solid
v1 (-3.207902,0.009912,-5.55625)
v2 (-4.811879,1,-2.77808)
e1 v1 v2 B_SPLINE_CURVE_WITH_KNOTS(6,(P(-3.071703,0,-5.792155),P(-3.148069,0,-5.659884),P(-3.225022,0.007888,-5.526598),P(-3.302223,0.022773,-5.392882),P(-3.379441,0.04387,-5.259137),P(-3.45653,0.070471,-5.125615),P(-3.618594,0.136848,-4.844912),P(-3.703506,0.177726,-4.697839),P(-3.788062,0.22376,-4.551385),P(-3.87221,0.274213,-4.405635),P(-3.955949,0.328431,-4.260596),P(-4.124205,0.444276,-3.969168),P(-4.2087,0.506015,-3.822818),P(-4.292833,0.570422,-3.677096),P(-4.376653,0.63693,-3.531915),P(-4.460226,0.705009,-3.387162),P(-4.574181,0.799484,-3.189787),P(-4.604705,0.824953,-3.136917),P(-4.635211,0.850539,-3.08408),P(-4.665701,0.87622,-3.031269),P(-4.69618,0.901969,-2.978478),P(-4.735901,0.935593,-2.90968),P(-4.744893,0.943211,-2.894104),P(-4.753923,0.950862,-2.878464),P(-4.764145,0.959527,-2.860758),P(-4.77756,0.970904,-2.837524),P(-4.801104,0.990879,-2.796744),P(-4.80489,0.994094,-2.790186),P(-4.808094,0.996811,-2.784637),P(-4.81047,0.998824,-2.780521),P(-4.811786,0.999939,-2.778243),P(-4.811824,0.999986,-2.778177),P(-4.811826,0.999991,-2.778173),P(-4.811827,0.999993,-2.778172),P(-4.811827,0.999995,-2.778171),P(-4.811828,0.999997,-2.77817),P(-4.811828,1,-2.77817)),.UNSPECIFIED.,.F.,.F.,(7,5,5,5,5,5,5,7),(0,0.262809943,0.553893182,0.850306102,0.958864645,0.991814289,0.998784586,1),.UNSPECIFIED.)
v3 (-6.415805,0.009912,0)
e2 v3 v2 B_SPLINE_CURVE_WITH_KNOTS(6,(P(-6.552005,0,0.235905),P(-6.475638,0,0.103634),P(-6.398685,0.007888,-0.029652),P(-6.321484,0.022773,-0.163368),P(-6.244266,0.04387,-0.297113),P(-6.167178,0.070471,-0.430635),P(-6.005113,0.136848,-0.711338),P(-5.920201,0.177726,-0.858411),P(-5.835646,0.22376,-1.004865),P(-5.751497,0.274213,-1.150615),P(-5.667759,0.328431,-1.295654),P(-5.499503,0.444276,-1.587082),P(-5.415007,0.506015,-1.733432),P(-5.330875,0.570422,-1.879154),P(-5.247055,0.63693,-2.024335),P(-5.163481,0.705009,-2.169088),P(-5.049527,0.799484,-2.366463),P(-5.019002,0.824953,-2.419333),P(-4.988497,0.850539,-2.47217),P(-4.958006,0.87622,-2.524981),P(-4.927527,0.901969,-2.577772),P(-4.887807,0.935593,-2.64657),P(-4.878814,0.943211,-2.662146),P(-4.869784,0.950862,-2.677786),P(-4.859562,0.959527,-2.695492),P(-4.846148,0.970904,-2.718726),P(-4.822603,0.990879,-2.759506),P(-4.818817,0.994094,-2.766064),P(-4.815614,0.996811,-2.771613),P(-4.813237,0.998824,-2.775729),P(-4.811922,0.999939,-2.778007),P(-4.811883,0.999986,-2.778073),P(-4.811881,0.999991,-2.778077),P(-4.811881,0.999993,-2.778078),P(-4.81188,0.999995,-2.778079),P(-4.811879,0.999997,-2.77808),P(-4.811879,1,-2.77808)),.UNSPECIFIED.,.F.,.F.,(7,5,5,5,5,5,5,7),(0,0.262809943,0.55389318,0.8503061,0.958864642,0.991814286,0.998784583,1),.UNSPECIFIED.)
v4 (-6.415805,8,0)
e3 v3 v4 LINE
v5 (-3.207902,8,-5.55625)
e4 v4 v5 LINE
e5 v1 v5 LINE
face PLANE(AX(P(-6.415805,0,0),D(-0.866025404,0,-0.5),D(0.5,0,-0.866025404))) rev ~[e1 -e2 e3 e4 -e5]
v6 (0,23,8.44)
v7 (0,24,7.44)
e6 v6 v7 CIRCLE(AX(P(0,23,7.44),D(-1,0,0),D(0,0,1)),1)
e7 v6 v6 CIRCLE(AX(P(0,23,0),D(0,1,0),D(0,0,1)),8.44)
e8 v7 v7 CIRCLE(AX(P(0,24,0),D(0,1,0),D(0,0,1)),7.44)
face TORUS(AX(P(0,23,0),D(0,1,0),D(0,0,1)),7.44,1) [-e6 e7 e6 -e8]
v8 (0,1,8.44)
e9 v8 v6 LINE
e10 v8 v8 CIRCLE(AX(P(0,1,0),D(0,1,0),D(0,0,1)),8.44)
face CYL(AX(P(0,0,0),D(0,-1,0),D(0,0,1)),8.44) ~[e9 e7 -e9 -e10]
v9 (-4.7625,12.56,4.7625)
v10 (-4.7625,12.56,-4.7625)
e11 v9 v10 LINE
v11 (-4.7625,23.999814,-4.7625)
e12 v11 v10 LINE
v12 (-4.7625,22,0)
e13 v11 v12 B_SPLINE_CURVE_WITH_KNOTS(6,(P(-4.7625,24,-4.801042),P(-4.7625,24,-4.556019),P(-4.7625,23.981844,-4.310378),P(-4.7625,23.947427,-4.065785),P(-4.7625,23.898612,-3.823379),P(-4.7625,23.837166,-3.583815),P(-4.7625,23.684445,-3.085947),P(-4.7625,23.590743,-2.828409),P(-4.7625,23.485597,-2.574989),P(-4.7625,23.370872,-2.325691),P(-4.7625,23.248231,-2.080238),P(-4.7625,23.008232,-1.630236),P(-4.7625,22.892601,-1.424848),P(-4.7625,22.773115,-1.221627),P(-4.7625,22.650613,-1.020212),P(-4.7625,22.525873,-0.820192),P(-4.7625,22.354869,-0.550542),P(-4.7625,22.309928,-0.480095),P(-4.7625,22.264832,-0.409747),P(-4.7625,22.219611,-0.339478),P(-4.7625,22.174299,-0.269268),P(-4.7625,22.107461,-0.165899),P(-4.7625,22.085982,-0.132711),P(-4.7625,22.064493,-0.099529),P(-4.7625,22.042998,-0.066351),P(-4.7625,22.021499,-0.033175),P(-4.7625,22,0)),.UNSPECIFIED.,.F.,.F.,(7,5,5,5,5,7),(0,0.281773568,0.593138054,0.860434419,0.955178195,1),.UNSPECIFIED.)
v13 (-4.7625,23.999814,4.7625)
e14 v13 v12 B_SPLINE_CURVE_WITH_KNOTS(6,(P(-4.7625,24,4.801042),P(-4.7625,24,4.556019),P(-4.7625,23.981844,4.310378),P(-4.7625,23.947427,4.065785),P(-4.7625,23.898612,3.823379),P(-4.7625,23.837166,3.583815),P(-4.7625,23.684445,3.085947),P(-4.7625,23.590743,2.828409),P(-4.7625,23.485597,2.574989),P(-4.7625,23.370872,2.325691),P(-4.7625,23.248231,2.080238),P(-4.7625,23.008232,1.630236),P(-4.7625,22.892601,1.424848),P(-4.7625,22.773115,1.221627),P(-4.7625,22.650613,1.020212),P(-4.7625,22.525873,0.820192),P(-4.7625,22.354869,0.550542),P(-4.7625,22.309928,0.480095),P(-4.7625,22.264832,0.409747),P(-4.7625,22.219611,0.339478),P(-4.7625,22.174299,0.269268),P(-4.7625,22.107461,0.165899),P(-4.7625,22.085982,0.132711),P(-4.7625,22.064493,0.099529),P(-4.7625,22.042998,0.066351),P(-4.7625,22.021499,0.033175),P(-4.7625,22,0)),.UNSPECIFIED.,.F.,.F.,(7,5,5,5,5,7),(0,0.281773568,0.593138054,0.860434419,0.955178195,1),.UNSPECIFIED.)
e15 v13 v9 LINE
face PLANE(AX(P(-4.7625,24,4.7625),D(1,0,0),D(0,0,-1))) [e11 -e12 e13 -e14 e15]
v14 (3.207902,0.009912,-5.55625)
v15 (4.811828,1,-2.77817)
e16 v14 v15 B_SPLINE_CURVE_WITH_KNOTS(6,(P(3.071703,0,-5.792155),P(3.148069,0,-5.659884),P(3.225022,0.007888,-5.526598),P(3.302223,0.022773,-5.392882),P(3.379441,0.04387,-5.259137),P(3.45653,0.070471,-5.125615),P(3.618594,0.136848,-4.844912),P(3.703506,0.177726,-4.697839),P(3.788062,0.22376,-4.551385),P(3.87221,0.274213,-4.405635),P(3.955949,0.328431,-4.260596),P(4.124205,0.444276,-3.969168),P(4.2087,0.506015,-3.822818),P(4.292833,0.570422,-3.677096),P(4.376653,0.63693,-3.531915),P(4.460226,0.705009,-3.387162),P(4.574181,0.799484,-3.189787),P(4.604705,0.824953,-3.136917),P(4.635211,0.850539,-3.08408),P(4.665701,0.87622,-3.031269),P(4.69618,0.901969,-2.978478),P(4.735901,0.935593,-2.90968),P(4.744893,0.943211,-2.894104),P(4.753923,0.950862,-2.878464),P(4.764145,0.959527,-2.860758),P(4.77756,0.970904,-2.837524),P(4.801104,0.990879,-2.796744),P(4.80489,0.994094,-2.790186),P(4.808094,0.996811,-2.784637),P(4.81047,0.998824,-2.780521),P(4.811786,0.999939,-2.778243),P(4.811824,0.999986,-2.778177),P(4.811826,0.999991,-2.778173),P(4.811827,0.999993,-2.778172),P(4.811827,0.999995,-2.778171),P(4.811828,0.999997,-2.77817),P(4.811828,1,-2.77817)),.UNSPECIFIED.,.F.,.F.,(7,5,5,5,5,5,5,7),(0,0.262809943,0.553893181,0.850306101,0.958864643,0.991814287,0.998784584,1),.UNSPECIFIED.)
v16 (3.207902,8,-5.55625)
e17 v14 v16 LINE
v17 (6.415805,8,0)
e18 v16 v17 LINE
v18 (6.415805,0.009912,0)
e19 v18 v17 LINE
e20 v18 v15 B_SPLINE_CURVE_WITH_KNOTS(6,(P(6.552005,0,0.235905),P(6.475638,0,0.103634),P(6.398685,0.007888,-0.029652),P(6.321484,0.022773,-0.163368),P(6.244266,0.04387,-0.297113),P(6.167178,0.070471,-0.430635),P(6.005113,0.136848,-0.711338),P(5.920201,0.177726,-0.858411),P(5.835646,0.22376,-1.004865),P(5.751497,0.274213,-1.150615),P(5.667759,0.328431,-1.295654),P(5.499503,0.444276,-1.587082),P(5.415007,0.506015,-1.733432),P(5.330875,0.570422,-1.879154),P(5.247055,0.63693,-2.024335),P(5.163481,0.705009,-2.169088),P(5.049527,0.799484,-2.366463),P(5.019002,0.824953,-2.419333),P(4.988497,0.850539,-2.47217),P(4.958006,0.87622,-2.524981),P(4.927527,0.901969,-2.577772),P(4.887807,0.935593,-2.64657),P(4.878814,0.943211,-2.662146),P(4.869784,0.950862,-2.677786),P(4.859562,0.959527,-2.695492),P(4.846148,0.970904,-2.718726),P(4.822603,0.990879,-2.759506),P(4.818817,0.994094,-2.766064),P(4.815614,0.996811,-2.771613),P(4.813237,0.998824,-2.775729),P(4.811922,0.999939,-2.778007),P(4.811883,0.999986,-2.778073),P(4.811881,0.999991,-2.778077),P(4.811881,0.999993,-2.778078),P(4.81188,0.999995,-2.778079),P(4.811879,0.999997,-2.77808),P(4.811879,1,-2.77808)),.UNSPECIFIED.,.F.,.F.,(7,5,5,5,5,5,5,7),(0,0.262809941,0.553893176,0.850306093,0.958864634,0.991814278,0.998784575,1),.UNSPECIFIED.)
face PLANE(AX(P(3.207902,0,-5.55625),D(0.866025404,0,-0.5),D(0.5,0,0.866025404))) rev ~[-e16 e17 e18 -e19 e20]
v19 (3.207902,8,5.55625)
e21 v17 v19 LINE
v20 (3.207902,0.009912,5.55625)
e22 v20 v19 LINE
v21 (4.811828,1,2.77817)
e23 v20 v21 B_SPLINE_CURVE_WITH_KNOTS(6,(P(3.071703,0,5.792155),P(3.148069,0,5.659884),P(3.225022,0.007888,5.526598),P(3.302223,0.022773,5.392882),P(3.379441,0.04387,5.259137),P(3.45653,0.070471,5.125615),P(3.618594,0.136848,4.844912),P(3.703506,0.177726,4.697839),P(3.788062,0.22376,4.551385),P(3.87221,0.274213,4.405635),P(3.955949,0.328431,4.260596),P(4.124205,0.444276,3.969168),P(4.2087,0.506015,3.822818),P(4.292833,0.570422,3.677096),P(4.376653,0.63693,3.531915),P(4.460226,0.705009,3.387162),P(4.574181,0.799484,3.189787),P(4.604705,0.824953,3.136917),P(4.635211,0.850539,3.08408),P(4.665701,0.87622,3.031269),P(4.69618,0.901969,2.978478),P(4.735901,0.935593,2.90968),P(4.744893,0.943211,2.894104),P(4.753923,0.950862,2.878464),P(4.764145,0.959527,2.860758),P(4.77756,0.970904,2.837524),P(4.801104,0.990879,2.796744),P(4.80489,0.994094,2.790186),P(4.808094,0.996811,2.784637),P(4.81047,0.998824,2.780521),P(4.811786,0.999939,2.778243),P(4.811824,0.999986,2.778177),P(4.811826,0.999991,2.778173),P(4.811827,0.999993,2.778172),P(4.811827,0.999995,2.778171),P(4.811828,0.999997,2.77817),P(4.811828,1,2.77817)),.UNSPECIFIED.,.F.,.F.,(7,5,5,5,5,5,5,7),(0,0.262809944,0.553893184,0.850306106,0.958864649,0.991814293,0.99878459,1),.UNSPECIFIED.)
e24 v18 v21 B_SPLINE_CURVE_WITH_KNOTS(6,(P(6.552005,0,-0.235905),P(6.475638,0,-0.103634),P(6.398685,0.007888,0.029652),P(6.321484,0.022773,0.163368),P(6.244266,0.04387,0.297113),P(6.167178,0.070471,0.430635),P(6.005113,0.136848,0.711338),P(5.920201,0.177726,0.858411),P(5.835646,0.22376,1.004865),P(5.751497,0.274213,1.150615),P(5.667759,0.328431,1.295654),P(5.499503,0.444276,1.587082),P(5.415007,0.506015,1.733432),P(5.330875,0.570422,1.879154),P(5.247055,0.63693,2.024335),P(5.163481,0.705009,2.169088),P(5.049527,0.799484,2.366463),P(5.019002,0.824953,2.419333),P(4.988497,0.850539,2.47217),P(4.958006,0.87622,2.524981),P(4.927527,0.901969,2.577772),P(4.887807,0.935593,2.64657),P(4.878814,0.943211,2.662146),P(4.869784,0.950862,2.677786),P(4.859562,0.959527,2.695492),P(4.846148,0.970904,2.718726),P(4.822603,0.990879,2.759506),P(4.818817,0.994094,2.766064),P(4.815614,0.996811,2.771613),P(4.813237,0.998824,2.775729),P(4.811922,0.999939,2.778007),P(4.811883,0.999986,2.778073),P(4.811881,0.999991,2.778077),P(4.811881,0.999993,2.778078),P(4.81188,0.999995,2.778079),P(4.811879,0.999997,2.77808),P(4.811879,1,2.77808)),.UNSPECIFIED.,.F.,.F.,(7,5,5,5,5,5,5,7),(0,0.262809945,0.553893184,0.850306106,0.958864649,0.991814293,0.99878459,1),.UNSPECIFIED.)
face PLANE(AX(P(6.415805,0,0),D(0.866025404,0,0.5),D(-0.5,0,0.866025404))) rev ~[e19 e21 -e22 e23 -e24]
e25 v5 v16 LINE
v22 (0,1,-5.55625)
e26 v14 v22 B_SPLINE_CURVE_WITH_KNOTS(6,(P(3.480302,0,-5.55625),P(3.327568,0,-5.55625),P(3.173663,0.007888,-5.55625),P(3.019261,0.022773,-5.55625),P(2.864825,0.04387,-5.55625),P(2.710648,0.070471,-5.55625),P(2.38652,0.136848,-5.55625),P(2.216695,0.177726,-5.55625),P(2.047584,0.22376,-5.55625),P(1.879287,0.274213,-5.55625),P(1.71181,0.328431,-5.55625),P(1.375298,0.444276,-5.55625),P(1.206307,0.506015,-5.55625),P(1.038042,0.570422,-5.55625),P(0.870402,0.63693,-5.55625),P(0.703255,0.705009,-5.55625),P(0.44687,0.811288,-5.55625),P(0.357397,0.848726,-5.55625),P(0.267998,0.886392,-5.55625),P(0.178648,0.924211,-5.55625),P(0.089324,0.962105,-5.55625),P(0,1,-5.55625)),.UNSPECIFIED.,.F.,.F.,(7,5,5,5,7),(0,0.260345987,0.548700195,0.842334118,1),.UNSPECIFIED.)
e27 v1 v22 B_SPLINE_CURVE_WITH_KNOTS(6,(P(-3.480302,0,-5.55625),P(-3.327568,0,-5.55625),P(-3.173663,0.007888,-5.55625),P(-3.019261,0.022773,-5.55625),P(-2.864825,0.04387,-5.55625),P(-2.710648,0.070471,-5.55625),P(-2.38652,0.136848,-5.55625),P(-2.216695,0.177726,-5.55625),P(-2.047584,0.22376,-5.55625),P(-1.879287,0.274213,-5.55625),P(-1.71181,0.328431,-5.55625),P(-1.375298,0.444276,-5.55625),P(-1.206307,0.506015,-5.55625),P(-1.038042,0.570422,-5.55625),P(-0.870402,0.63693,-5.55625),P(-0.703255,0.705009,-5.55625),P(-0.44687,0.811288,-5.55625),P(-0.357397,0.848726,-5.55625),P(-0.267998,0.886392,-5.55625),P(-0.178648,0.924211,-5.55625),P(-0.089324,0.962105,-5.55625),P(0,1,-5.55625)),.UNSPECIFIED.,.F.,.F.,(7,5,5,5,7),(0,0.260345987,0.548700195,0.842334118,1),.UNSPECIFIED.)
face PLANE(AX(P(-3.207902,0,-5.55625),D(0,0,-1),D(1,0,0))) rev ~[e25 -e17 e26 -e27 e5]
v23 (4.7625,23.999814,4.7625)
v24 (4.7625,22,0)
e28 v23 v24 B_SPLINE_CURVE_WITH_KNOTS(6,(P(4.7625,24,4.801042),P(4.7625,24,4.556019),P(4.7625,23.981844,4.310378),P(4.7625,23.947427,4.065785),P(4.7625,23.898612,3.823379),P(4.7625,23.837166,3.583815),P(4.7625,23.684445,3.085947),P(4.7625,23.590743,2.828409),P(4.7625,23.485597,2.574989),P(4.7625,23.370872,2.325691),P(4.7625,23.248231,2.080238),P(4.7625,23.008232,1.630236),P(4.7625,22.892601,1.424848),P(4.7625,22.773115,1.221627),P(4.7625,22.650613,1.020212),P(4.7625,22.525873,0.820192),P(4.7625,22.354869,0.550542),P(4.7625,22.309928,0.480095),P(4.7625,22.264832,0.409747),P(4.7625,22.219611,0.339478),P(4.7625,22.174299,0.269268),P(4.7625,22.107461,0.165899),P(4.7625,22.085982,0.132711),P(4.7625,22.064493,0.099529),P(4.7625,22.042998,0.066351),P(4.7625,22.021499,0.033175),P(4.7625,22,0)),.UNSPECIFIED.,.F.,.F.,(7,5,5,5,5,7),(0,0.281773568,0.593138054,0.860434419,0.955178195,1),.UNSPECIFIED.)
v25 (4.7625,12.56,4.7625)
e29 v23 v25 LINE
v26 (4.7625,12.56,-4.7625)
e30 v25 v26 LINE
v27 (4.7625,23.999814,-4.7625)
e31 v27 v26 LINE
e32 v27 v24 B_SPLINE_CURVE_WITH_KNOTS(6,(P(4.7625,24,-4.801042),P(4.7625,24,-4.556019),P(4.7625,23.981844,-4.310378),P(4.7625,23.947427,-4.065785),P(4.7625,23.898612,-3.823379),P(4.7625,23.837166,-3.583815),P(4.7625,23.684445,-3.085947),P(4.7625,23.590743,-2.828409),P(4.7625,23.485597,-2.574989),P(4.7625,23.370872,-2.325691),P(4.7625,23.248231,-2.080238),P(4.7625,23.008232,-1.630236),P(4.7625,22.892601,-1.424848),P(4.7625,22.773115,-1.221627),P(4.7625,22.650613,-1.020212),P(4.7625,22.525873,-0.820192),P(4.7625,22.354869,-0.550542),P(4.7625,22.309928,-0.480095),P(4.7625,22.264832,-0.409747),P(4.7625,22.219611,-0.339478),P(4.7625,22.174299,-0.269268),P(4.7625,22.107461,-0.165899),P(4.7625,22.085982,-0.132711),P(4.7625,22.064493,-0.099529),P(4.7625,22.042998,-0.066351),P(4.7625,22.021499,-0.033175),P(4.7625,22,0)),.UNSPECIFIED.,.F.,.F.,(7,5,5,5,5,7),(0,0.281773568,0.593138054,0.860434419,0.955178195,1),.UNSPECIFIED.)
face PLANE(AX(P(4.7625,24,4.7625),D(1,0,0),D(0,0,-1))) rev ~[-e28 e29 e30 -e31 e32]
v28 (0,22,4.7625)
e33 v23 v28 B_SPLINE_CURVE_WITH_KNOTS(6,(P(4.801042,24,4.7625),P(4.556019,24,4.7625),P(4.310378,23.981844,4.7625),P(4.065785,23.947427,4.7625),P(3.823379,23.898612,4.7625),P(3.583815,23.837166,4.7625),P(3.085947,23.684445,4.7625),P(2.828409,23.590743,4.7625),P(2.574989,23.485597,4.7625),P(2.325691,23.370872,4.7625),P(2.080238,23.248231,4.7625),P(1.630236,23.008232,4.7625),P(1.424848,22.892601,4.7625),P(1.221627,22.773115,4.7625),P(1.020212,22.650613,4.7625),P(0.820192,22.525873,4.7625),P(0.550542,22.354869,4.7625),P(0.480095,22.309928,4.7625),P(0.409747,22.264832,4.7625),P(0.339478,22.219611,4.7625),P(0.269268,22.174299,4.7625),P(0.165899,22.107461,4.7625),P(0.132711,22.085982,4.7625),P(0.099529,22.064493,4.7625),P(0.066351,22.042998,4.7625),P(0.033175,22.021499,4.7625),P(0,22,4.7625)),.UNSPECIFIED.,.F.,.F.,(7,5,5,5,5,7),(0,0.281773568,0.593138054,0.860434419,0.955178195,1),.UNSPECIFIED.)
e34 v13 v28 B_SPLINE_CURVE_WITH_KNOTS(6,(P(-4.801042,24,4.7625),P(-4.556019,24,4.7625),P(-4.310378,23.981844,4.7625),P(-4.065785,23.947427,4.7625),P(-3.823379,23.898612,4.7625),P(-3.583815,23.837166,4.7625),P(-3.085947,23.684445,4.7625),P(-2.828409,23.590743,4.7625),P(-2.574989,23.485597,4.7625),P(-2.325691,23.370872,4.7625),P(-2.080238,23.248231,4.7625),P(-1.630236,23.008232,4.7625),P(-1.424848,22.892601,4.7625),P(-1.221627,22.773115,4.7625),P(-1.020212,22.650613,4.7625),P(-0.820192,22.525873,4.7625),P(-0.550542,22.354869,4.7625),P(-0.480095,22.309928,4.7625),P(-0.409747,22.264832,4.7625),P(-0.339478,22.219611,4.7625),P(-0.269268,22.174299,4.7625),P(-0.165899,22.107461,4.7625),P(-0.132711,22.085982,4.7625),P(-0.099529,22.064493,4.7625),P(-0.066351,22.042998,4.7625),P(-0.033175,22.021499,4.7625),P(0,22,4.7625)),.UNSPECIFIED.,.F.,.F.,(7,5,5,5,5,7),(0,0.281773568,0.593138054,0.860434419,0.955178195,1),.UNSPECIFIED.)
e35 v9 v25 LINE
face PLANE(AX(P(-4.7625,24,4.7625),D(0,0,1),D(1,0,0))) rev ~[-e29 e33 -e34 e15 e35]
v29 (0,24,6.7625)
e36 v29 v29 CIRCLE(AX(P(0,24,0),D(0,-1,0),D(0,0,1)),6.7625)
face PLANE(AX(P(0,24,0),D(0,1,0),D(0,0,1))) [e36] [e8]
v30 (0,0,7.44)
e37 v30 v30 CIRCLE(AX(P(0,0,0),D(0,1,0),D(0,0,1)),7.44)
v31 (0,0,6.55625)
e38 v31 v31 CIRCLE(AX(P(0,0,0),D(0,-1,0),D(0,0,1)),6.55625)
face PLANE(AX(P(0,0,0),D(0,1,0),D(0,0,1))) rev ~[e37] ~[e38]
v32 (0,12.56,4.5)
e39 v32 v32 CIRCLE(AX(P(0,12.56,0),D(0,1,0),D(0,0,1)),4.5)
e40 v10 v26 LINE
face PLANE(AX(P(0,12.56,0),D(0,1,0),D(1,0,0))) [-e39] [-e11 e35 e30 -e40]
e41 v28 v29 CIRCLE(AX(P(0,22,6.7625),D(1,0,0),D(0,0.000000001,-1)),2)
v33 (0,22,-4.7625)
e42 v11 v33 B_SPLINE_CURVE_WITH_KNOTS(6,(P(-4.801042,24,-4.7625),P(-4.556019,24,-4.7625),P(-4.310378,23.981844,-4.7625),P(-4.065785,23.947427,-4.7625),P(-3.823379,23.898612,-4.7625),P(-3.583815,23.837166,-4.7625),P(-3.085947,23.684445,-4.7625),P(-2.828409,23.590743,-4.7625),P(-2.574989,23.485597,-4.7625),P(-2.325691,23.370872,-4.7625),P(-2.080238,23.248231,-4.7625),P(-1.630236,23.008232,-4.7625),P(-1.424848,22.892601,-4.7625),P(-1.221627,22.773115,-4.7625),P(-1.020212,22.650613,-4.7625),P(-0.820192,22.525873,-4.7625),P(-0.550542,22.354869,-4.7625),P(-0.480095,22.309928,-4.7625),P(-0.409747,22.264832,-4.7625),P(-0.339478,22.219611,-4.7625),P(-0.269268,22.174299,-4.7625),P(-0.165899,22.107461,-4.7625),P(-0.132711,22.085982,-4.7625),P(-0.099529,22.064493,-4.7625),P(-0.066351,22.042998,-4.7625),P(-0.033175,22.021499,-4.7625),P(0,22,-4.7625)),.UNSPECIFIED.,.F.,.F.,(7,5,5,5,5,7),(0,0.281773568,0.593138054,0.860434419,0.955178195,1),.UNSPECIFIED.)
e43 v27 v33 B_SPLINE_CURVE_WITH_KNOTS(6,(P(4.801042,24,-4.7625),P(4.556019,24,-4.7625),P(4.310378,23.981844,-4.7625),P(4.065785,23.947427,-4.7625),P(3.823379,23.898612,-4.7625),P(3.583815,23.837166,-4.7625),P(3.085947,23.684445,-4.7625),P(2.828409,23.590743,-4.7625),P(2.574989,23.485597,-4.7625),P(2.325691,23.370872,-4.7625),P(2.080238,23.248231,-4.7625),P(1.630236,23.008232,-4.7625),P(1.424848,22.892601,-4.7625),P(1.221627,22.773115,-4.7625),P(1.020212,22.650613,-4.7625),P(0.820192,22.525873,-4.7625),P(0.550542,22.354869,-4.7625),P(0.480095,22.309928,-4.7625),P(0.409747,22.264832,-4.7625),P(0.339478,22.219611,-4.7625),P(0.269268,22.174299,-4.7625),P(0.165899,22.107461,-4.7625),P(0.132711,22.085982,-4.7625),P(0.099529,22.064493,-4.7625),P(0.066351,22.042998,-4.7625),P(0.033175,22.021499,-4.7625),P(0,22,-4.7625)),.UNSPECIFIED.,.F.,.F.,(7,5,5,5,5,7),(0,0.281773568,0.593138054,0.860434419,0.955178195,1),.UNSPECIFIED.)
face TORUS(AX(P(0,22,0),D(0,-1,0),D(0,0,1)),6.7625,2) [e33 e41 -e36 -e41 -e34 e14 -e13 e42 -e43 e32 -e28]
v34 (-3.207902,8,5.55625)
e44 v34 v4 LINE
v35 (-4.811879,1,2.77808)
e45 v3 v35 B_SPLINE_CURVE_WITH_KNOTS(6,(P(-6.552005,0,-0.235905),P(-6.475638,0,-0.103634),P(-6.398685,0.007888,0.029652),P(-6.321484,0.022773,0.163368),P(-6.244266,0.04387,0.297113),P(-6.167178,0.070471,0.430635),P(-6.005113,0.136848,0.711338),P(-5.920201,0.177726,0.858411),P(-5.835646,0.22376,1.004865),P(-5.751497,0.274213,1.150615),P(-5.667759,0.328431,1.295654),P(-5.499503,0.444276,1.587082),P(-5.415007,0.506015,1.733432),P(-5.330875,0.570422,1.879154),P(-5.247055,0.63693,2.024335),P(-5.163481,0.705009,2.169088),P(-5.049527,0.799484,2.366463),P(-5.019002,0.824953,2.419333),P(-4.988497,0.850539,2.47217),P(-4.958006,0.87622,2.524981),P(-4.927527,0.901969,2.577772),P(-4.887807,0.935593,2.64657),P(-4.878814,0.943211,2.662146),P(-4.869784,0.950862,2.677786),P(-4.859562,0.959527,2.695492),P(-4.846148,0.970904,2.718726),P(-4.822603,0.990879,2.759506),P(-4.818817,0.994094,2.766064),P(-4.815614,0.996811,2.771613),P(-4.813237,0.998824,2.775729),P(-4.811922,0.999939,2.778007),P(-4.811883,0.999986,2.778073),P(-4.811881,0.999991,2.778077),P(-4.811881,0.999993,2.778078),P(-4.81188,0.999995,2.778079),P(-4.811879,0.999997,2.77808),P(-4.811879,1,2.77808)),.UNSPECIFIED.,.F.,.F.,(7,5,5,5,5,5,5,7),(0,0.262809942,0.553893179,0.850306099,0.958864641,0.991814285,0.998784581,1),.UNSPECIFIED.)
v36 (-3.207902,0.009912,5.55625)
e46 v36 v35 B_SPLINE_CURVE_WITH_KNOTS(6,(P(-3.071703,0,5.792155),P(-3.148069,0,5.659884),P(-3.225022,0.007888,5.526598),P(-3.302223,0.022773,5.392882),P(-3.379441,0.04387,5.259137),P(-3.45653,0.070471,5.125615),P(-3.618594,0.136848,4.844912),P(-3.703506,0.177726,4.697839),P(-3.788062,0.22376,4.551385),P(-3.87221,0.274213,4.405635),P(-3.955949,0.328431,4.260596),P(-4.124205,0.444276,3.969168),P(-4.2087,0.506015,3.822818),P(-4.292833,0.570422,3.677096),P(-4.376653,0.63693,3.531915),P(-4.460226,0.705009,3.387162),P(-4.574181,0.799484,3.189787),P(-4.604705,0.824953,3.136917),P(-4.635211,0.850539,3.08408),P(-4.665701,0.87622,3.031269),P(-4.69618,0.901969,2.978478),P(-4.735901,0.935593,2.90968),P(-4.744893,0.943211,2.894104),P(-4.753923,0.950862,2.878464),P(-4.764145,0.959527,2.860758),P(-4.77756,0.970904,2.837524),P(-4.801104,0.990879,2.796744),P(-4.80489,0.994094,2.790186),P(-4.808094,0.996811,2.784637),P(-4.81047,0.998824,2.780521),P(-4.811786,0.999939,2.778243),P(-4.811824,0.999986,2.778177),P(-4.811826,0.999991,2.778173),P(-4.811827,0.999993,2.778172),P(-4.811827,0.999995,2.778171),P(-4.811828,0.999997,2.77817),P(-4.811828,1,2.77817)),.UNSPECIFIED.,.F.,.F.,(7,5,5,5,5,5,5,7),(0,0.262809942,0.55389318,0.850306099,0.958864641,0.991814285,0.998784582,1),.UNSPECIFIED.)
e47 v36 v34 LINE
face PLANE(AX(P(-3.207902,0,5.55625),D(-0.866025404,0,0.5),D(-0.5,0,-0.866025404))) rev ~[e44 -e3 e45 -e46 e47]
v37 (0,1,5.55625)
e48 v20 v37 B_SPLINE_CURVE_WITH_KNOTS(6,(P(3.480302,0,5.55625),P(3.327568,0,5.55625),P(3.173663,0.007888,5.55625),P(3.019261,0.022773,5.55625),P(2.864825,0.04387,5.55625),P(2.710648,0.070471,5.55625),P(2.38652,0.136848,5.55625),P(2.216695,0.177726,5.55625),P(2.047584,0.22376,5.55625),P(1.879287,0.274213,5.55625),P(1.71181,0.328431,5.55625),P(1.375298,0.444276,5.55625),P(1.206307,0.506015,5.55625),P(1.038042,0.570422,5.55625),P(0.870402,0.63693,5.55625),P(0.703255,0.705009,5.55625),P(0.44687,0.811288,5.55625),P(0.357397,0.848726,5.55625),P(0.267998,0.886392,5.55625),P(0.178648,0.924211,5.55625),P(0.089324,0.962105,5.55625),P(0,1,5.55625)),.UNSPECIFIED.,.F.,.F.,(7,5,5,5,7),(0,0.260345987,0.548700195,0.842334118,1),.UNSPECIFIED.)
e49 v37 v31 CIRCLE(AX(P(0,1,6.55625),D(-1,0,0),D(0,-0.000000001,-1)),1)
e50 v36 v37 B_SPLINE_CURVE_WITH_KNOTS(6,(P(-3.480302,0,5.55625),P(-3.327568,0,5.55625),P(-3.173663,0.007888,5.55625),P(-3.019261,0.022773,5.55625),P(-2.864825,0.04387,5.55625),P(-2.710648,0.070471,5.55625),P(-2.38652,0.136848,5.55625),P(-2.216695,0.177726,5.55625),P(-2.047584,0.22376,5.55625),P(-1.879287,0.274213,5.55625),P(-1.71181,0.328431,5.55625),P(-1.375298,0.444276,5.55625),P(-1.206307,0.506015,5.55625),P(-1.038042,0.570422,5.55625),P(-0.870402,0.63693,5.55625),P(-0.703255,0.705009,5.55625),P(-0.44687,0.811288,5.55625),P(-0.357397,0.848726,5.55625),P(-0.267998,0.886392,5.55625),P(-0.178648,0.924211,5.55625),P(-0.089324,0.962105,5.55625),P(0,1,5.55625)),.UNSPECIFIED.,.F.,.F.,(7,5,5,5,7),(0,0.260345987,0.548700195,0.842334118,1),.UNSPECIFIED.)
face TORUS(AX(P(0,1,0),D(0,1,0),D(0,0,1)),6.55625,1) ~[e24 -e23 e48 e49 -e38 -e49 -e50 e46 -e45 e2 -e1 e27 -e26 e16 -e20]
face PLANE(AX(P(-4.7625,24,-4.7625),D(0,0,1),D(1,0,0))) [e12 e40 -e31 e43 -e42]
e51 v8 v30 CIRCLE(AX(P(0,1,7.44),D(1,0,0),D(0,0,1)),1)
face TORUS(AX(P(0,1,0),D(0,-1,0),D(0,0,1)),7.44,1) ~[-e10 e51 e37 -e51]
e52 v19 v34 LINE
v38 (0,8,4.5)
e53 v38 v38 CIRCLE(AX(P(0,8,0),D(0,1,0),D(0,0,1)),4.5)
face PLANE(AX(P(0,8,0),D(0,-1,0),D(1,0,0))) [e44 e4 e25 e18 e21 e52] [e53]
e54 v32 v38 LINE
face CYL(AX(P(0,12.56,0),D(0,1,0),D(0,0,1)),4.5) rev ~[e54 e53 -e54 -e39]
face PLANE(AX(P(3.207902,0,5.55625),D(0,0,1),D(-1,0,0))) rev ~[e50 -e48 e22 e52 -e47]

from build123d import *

# Parameters (mm, degrees)
SKETCH1_R           = 8.44
BOSS_EXTRUDE1_DEPTH = 24
SKETCH2_W           = 9.525
SKETCH2_H           = 9.525
CUT_EXTRUDE1_DEPTH  = 11.44
SKETCH3_R           = 4.5
CUT_EXTRUDE2_DEPTH  = 18.32688085
CUT_EXTRUDE3_DEPTH  = 8
FILLET1_R           = 1


with BuildPart() as part:
    # Sketch1 → Boss-Extrude1 (new body)
    with BuildSketch(Plane(origin=(0, 0, 0), x_dir=(1, 0, 0), z_dir=(0, 1, 0))):
        with Locations(Location((0, 0, 0), (0, 0, 270))):
            Circle(SKETCH1_R)
    extrude(amount=BOSS_EXTRUDE1_DEPTH)

    # Sketch2 → Cut-Extrude1 (cut)
    with BuildSketch(Plane(origin=(0, 24, 0), x_dir=(1, 0, 0), z_dir=(0, 1, 0))):
        Rectangle(SKETCH2_W, SKETCH2_H)
    extrude(amount=-CUT_EXTRUDE1_DEPTH, mode=Mode.SUBTRACT)

    # Sketch3 → Cut-Extrude2 (cut, through all)
    with BuildSketch(Plane(origin=(0, 12.56, 0), x_dir=(1, 0, 0), z_dir=(0, 1, 0))):
        with Locations(Location((0, 0, 0), (0, 0, 270))):
            Circle(SKETCH3_R)
    extrude(amount=-CUT_EXTRUDE2_DEPTH, mode=Mode.SUBTRACT)

    # Sketch4 → Cut-Extrude3 (cut)
    with BuildSketch(Plane.XZ):
        Polygon((-3.207902433, 5.55625), (-6.415804866, 0), (-3.207902433, -5.55625), (3.207902433, -5.55625), (6.415804866, 0), (3.207902433, 5.55625), align=None)
    extrude(amount=-CUT_EXTRUDE3_DEPTH, mode=Mode.SUBTRACT)

    # Sketch5 → Cut-Revolve1 (revolve, cut)
    with BuildSketch(Plane(origin=(0, 0, 0), x_dir=(0, 0, -1), z_dir=(1, 0, 0))):
        with BuildLine():
            Line((-6.55625, 0), (-5.55625, 0))
            Line((-5.55625, 0), (-5.55625, 1))
            ThreePointArc((-5.55625, 1), (-5.849143219, 0.292893219), (-6.55625, 0))
        make_face()
        with BuildLine():
            Line((-6.7625, 24), (-4.7625, 24))
            Line((-4.7625, 24), (-4.7625, 22))
            ThreePointArc((-4.7625, 22), (-5.348286438, 23.414213562), (-6.7625, 24))
        make_face()
    revolve(axis=Axis((0, 24, 0), (0, -1, 0)), mode=Mode.SUBTRACT)

    # Fillet1
    fillet1_edges = [part.edges().sort_by_distance(p)[0] for p in [
        (0, 0, -8.44),
        (0, 24, -8.44),
    ]]
    fillet(fillet1_edges, radius=FILLET1_R)


solid = part.part
